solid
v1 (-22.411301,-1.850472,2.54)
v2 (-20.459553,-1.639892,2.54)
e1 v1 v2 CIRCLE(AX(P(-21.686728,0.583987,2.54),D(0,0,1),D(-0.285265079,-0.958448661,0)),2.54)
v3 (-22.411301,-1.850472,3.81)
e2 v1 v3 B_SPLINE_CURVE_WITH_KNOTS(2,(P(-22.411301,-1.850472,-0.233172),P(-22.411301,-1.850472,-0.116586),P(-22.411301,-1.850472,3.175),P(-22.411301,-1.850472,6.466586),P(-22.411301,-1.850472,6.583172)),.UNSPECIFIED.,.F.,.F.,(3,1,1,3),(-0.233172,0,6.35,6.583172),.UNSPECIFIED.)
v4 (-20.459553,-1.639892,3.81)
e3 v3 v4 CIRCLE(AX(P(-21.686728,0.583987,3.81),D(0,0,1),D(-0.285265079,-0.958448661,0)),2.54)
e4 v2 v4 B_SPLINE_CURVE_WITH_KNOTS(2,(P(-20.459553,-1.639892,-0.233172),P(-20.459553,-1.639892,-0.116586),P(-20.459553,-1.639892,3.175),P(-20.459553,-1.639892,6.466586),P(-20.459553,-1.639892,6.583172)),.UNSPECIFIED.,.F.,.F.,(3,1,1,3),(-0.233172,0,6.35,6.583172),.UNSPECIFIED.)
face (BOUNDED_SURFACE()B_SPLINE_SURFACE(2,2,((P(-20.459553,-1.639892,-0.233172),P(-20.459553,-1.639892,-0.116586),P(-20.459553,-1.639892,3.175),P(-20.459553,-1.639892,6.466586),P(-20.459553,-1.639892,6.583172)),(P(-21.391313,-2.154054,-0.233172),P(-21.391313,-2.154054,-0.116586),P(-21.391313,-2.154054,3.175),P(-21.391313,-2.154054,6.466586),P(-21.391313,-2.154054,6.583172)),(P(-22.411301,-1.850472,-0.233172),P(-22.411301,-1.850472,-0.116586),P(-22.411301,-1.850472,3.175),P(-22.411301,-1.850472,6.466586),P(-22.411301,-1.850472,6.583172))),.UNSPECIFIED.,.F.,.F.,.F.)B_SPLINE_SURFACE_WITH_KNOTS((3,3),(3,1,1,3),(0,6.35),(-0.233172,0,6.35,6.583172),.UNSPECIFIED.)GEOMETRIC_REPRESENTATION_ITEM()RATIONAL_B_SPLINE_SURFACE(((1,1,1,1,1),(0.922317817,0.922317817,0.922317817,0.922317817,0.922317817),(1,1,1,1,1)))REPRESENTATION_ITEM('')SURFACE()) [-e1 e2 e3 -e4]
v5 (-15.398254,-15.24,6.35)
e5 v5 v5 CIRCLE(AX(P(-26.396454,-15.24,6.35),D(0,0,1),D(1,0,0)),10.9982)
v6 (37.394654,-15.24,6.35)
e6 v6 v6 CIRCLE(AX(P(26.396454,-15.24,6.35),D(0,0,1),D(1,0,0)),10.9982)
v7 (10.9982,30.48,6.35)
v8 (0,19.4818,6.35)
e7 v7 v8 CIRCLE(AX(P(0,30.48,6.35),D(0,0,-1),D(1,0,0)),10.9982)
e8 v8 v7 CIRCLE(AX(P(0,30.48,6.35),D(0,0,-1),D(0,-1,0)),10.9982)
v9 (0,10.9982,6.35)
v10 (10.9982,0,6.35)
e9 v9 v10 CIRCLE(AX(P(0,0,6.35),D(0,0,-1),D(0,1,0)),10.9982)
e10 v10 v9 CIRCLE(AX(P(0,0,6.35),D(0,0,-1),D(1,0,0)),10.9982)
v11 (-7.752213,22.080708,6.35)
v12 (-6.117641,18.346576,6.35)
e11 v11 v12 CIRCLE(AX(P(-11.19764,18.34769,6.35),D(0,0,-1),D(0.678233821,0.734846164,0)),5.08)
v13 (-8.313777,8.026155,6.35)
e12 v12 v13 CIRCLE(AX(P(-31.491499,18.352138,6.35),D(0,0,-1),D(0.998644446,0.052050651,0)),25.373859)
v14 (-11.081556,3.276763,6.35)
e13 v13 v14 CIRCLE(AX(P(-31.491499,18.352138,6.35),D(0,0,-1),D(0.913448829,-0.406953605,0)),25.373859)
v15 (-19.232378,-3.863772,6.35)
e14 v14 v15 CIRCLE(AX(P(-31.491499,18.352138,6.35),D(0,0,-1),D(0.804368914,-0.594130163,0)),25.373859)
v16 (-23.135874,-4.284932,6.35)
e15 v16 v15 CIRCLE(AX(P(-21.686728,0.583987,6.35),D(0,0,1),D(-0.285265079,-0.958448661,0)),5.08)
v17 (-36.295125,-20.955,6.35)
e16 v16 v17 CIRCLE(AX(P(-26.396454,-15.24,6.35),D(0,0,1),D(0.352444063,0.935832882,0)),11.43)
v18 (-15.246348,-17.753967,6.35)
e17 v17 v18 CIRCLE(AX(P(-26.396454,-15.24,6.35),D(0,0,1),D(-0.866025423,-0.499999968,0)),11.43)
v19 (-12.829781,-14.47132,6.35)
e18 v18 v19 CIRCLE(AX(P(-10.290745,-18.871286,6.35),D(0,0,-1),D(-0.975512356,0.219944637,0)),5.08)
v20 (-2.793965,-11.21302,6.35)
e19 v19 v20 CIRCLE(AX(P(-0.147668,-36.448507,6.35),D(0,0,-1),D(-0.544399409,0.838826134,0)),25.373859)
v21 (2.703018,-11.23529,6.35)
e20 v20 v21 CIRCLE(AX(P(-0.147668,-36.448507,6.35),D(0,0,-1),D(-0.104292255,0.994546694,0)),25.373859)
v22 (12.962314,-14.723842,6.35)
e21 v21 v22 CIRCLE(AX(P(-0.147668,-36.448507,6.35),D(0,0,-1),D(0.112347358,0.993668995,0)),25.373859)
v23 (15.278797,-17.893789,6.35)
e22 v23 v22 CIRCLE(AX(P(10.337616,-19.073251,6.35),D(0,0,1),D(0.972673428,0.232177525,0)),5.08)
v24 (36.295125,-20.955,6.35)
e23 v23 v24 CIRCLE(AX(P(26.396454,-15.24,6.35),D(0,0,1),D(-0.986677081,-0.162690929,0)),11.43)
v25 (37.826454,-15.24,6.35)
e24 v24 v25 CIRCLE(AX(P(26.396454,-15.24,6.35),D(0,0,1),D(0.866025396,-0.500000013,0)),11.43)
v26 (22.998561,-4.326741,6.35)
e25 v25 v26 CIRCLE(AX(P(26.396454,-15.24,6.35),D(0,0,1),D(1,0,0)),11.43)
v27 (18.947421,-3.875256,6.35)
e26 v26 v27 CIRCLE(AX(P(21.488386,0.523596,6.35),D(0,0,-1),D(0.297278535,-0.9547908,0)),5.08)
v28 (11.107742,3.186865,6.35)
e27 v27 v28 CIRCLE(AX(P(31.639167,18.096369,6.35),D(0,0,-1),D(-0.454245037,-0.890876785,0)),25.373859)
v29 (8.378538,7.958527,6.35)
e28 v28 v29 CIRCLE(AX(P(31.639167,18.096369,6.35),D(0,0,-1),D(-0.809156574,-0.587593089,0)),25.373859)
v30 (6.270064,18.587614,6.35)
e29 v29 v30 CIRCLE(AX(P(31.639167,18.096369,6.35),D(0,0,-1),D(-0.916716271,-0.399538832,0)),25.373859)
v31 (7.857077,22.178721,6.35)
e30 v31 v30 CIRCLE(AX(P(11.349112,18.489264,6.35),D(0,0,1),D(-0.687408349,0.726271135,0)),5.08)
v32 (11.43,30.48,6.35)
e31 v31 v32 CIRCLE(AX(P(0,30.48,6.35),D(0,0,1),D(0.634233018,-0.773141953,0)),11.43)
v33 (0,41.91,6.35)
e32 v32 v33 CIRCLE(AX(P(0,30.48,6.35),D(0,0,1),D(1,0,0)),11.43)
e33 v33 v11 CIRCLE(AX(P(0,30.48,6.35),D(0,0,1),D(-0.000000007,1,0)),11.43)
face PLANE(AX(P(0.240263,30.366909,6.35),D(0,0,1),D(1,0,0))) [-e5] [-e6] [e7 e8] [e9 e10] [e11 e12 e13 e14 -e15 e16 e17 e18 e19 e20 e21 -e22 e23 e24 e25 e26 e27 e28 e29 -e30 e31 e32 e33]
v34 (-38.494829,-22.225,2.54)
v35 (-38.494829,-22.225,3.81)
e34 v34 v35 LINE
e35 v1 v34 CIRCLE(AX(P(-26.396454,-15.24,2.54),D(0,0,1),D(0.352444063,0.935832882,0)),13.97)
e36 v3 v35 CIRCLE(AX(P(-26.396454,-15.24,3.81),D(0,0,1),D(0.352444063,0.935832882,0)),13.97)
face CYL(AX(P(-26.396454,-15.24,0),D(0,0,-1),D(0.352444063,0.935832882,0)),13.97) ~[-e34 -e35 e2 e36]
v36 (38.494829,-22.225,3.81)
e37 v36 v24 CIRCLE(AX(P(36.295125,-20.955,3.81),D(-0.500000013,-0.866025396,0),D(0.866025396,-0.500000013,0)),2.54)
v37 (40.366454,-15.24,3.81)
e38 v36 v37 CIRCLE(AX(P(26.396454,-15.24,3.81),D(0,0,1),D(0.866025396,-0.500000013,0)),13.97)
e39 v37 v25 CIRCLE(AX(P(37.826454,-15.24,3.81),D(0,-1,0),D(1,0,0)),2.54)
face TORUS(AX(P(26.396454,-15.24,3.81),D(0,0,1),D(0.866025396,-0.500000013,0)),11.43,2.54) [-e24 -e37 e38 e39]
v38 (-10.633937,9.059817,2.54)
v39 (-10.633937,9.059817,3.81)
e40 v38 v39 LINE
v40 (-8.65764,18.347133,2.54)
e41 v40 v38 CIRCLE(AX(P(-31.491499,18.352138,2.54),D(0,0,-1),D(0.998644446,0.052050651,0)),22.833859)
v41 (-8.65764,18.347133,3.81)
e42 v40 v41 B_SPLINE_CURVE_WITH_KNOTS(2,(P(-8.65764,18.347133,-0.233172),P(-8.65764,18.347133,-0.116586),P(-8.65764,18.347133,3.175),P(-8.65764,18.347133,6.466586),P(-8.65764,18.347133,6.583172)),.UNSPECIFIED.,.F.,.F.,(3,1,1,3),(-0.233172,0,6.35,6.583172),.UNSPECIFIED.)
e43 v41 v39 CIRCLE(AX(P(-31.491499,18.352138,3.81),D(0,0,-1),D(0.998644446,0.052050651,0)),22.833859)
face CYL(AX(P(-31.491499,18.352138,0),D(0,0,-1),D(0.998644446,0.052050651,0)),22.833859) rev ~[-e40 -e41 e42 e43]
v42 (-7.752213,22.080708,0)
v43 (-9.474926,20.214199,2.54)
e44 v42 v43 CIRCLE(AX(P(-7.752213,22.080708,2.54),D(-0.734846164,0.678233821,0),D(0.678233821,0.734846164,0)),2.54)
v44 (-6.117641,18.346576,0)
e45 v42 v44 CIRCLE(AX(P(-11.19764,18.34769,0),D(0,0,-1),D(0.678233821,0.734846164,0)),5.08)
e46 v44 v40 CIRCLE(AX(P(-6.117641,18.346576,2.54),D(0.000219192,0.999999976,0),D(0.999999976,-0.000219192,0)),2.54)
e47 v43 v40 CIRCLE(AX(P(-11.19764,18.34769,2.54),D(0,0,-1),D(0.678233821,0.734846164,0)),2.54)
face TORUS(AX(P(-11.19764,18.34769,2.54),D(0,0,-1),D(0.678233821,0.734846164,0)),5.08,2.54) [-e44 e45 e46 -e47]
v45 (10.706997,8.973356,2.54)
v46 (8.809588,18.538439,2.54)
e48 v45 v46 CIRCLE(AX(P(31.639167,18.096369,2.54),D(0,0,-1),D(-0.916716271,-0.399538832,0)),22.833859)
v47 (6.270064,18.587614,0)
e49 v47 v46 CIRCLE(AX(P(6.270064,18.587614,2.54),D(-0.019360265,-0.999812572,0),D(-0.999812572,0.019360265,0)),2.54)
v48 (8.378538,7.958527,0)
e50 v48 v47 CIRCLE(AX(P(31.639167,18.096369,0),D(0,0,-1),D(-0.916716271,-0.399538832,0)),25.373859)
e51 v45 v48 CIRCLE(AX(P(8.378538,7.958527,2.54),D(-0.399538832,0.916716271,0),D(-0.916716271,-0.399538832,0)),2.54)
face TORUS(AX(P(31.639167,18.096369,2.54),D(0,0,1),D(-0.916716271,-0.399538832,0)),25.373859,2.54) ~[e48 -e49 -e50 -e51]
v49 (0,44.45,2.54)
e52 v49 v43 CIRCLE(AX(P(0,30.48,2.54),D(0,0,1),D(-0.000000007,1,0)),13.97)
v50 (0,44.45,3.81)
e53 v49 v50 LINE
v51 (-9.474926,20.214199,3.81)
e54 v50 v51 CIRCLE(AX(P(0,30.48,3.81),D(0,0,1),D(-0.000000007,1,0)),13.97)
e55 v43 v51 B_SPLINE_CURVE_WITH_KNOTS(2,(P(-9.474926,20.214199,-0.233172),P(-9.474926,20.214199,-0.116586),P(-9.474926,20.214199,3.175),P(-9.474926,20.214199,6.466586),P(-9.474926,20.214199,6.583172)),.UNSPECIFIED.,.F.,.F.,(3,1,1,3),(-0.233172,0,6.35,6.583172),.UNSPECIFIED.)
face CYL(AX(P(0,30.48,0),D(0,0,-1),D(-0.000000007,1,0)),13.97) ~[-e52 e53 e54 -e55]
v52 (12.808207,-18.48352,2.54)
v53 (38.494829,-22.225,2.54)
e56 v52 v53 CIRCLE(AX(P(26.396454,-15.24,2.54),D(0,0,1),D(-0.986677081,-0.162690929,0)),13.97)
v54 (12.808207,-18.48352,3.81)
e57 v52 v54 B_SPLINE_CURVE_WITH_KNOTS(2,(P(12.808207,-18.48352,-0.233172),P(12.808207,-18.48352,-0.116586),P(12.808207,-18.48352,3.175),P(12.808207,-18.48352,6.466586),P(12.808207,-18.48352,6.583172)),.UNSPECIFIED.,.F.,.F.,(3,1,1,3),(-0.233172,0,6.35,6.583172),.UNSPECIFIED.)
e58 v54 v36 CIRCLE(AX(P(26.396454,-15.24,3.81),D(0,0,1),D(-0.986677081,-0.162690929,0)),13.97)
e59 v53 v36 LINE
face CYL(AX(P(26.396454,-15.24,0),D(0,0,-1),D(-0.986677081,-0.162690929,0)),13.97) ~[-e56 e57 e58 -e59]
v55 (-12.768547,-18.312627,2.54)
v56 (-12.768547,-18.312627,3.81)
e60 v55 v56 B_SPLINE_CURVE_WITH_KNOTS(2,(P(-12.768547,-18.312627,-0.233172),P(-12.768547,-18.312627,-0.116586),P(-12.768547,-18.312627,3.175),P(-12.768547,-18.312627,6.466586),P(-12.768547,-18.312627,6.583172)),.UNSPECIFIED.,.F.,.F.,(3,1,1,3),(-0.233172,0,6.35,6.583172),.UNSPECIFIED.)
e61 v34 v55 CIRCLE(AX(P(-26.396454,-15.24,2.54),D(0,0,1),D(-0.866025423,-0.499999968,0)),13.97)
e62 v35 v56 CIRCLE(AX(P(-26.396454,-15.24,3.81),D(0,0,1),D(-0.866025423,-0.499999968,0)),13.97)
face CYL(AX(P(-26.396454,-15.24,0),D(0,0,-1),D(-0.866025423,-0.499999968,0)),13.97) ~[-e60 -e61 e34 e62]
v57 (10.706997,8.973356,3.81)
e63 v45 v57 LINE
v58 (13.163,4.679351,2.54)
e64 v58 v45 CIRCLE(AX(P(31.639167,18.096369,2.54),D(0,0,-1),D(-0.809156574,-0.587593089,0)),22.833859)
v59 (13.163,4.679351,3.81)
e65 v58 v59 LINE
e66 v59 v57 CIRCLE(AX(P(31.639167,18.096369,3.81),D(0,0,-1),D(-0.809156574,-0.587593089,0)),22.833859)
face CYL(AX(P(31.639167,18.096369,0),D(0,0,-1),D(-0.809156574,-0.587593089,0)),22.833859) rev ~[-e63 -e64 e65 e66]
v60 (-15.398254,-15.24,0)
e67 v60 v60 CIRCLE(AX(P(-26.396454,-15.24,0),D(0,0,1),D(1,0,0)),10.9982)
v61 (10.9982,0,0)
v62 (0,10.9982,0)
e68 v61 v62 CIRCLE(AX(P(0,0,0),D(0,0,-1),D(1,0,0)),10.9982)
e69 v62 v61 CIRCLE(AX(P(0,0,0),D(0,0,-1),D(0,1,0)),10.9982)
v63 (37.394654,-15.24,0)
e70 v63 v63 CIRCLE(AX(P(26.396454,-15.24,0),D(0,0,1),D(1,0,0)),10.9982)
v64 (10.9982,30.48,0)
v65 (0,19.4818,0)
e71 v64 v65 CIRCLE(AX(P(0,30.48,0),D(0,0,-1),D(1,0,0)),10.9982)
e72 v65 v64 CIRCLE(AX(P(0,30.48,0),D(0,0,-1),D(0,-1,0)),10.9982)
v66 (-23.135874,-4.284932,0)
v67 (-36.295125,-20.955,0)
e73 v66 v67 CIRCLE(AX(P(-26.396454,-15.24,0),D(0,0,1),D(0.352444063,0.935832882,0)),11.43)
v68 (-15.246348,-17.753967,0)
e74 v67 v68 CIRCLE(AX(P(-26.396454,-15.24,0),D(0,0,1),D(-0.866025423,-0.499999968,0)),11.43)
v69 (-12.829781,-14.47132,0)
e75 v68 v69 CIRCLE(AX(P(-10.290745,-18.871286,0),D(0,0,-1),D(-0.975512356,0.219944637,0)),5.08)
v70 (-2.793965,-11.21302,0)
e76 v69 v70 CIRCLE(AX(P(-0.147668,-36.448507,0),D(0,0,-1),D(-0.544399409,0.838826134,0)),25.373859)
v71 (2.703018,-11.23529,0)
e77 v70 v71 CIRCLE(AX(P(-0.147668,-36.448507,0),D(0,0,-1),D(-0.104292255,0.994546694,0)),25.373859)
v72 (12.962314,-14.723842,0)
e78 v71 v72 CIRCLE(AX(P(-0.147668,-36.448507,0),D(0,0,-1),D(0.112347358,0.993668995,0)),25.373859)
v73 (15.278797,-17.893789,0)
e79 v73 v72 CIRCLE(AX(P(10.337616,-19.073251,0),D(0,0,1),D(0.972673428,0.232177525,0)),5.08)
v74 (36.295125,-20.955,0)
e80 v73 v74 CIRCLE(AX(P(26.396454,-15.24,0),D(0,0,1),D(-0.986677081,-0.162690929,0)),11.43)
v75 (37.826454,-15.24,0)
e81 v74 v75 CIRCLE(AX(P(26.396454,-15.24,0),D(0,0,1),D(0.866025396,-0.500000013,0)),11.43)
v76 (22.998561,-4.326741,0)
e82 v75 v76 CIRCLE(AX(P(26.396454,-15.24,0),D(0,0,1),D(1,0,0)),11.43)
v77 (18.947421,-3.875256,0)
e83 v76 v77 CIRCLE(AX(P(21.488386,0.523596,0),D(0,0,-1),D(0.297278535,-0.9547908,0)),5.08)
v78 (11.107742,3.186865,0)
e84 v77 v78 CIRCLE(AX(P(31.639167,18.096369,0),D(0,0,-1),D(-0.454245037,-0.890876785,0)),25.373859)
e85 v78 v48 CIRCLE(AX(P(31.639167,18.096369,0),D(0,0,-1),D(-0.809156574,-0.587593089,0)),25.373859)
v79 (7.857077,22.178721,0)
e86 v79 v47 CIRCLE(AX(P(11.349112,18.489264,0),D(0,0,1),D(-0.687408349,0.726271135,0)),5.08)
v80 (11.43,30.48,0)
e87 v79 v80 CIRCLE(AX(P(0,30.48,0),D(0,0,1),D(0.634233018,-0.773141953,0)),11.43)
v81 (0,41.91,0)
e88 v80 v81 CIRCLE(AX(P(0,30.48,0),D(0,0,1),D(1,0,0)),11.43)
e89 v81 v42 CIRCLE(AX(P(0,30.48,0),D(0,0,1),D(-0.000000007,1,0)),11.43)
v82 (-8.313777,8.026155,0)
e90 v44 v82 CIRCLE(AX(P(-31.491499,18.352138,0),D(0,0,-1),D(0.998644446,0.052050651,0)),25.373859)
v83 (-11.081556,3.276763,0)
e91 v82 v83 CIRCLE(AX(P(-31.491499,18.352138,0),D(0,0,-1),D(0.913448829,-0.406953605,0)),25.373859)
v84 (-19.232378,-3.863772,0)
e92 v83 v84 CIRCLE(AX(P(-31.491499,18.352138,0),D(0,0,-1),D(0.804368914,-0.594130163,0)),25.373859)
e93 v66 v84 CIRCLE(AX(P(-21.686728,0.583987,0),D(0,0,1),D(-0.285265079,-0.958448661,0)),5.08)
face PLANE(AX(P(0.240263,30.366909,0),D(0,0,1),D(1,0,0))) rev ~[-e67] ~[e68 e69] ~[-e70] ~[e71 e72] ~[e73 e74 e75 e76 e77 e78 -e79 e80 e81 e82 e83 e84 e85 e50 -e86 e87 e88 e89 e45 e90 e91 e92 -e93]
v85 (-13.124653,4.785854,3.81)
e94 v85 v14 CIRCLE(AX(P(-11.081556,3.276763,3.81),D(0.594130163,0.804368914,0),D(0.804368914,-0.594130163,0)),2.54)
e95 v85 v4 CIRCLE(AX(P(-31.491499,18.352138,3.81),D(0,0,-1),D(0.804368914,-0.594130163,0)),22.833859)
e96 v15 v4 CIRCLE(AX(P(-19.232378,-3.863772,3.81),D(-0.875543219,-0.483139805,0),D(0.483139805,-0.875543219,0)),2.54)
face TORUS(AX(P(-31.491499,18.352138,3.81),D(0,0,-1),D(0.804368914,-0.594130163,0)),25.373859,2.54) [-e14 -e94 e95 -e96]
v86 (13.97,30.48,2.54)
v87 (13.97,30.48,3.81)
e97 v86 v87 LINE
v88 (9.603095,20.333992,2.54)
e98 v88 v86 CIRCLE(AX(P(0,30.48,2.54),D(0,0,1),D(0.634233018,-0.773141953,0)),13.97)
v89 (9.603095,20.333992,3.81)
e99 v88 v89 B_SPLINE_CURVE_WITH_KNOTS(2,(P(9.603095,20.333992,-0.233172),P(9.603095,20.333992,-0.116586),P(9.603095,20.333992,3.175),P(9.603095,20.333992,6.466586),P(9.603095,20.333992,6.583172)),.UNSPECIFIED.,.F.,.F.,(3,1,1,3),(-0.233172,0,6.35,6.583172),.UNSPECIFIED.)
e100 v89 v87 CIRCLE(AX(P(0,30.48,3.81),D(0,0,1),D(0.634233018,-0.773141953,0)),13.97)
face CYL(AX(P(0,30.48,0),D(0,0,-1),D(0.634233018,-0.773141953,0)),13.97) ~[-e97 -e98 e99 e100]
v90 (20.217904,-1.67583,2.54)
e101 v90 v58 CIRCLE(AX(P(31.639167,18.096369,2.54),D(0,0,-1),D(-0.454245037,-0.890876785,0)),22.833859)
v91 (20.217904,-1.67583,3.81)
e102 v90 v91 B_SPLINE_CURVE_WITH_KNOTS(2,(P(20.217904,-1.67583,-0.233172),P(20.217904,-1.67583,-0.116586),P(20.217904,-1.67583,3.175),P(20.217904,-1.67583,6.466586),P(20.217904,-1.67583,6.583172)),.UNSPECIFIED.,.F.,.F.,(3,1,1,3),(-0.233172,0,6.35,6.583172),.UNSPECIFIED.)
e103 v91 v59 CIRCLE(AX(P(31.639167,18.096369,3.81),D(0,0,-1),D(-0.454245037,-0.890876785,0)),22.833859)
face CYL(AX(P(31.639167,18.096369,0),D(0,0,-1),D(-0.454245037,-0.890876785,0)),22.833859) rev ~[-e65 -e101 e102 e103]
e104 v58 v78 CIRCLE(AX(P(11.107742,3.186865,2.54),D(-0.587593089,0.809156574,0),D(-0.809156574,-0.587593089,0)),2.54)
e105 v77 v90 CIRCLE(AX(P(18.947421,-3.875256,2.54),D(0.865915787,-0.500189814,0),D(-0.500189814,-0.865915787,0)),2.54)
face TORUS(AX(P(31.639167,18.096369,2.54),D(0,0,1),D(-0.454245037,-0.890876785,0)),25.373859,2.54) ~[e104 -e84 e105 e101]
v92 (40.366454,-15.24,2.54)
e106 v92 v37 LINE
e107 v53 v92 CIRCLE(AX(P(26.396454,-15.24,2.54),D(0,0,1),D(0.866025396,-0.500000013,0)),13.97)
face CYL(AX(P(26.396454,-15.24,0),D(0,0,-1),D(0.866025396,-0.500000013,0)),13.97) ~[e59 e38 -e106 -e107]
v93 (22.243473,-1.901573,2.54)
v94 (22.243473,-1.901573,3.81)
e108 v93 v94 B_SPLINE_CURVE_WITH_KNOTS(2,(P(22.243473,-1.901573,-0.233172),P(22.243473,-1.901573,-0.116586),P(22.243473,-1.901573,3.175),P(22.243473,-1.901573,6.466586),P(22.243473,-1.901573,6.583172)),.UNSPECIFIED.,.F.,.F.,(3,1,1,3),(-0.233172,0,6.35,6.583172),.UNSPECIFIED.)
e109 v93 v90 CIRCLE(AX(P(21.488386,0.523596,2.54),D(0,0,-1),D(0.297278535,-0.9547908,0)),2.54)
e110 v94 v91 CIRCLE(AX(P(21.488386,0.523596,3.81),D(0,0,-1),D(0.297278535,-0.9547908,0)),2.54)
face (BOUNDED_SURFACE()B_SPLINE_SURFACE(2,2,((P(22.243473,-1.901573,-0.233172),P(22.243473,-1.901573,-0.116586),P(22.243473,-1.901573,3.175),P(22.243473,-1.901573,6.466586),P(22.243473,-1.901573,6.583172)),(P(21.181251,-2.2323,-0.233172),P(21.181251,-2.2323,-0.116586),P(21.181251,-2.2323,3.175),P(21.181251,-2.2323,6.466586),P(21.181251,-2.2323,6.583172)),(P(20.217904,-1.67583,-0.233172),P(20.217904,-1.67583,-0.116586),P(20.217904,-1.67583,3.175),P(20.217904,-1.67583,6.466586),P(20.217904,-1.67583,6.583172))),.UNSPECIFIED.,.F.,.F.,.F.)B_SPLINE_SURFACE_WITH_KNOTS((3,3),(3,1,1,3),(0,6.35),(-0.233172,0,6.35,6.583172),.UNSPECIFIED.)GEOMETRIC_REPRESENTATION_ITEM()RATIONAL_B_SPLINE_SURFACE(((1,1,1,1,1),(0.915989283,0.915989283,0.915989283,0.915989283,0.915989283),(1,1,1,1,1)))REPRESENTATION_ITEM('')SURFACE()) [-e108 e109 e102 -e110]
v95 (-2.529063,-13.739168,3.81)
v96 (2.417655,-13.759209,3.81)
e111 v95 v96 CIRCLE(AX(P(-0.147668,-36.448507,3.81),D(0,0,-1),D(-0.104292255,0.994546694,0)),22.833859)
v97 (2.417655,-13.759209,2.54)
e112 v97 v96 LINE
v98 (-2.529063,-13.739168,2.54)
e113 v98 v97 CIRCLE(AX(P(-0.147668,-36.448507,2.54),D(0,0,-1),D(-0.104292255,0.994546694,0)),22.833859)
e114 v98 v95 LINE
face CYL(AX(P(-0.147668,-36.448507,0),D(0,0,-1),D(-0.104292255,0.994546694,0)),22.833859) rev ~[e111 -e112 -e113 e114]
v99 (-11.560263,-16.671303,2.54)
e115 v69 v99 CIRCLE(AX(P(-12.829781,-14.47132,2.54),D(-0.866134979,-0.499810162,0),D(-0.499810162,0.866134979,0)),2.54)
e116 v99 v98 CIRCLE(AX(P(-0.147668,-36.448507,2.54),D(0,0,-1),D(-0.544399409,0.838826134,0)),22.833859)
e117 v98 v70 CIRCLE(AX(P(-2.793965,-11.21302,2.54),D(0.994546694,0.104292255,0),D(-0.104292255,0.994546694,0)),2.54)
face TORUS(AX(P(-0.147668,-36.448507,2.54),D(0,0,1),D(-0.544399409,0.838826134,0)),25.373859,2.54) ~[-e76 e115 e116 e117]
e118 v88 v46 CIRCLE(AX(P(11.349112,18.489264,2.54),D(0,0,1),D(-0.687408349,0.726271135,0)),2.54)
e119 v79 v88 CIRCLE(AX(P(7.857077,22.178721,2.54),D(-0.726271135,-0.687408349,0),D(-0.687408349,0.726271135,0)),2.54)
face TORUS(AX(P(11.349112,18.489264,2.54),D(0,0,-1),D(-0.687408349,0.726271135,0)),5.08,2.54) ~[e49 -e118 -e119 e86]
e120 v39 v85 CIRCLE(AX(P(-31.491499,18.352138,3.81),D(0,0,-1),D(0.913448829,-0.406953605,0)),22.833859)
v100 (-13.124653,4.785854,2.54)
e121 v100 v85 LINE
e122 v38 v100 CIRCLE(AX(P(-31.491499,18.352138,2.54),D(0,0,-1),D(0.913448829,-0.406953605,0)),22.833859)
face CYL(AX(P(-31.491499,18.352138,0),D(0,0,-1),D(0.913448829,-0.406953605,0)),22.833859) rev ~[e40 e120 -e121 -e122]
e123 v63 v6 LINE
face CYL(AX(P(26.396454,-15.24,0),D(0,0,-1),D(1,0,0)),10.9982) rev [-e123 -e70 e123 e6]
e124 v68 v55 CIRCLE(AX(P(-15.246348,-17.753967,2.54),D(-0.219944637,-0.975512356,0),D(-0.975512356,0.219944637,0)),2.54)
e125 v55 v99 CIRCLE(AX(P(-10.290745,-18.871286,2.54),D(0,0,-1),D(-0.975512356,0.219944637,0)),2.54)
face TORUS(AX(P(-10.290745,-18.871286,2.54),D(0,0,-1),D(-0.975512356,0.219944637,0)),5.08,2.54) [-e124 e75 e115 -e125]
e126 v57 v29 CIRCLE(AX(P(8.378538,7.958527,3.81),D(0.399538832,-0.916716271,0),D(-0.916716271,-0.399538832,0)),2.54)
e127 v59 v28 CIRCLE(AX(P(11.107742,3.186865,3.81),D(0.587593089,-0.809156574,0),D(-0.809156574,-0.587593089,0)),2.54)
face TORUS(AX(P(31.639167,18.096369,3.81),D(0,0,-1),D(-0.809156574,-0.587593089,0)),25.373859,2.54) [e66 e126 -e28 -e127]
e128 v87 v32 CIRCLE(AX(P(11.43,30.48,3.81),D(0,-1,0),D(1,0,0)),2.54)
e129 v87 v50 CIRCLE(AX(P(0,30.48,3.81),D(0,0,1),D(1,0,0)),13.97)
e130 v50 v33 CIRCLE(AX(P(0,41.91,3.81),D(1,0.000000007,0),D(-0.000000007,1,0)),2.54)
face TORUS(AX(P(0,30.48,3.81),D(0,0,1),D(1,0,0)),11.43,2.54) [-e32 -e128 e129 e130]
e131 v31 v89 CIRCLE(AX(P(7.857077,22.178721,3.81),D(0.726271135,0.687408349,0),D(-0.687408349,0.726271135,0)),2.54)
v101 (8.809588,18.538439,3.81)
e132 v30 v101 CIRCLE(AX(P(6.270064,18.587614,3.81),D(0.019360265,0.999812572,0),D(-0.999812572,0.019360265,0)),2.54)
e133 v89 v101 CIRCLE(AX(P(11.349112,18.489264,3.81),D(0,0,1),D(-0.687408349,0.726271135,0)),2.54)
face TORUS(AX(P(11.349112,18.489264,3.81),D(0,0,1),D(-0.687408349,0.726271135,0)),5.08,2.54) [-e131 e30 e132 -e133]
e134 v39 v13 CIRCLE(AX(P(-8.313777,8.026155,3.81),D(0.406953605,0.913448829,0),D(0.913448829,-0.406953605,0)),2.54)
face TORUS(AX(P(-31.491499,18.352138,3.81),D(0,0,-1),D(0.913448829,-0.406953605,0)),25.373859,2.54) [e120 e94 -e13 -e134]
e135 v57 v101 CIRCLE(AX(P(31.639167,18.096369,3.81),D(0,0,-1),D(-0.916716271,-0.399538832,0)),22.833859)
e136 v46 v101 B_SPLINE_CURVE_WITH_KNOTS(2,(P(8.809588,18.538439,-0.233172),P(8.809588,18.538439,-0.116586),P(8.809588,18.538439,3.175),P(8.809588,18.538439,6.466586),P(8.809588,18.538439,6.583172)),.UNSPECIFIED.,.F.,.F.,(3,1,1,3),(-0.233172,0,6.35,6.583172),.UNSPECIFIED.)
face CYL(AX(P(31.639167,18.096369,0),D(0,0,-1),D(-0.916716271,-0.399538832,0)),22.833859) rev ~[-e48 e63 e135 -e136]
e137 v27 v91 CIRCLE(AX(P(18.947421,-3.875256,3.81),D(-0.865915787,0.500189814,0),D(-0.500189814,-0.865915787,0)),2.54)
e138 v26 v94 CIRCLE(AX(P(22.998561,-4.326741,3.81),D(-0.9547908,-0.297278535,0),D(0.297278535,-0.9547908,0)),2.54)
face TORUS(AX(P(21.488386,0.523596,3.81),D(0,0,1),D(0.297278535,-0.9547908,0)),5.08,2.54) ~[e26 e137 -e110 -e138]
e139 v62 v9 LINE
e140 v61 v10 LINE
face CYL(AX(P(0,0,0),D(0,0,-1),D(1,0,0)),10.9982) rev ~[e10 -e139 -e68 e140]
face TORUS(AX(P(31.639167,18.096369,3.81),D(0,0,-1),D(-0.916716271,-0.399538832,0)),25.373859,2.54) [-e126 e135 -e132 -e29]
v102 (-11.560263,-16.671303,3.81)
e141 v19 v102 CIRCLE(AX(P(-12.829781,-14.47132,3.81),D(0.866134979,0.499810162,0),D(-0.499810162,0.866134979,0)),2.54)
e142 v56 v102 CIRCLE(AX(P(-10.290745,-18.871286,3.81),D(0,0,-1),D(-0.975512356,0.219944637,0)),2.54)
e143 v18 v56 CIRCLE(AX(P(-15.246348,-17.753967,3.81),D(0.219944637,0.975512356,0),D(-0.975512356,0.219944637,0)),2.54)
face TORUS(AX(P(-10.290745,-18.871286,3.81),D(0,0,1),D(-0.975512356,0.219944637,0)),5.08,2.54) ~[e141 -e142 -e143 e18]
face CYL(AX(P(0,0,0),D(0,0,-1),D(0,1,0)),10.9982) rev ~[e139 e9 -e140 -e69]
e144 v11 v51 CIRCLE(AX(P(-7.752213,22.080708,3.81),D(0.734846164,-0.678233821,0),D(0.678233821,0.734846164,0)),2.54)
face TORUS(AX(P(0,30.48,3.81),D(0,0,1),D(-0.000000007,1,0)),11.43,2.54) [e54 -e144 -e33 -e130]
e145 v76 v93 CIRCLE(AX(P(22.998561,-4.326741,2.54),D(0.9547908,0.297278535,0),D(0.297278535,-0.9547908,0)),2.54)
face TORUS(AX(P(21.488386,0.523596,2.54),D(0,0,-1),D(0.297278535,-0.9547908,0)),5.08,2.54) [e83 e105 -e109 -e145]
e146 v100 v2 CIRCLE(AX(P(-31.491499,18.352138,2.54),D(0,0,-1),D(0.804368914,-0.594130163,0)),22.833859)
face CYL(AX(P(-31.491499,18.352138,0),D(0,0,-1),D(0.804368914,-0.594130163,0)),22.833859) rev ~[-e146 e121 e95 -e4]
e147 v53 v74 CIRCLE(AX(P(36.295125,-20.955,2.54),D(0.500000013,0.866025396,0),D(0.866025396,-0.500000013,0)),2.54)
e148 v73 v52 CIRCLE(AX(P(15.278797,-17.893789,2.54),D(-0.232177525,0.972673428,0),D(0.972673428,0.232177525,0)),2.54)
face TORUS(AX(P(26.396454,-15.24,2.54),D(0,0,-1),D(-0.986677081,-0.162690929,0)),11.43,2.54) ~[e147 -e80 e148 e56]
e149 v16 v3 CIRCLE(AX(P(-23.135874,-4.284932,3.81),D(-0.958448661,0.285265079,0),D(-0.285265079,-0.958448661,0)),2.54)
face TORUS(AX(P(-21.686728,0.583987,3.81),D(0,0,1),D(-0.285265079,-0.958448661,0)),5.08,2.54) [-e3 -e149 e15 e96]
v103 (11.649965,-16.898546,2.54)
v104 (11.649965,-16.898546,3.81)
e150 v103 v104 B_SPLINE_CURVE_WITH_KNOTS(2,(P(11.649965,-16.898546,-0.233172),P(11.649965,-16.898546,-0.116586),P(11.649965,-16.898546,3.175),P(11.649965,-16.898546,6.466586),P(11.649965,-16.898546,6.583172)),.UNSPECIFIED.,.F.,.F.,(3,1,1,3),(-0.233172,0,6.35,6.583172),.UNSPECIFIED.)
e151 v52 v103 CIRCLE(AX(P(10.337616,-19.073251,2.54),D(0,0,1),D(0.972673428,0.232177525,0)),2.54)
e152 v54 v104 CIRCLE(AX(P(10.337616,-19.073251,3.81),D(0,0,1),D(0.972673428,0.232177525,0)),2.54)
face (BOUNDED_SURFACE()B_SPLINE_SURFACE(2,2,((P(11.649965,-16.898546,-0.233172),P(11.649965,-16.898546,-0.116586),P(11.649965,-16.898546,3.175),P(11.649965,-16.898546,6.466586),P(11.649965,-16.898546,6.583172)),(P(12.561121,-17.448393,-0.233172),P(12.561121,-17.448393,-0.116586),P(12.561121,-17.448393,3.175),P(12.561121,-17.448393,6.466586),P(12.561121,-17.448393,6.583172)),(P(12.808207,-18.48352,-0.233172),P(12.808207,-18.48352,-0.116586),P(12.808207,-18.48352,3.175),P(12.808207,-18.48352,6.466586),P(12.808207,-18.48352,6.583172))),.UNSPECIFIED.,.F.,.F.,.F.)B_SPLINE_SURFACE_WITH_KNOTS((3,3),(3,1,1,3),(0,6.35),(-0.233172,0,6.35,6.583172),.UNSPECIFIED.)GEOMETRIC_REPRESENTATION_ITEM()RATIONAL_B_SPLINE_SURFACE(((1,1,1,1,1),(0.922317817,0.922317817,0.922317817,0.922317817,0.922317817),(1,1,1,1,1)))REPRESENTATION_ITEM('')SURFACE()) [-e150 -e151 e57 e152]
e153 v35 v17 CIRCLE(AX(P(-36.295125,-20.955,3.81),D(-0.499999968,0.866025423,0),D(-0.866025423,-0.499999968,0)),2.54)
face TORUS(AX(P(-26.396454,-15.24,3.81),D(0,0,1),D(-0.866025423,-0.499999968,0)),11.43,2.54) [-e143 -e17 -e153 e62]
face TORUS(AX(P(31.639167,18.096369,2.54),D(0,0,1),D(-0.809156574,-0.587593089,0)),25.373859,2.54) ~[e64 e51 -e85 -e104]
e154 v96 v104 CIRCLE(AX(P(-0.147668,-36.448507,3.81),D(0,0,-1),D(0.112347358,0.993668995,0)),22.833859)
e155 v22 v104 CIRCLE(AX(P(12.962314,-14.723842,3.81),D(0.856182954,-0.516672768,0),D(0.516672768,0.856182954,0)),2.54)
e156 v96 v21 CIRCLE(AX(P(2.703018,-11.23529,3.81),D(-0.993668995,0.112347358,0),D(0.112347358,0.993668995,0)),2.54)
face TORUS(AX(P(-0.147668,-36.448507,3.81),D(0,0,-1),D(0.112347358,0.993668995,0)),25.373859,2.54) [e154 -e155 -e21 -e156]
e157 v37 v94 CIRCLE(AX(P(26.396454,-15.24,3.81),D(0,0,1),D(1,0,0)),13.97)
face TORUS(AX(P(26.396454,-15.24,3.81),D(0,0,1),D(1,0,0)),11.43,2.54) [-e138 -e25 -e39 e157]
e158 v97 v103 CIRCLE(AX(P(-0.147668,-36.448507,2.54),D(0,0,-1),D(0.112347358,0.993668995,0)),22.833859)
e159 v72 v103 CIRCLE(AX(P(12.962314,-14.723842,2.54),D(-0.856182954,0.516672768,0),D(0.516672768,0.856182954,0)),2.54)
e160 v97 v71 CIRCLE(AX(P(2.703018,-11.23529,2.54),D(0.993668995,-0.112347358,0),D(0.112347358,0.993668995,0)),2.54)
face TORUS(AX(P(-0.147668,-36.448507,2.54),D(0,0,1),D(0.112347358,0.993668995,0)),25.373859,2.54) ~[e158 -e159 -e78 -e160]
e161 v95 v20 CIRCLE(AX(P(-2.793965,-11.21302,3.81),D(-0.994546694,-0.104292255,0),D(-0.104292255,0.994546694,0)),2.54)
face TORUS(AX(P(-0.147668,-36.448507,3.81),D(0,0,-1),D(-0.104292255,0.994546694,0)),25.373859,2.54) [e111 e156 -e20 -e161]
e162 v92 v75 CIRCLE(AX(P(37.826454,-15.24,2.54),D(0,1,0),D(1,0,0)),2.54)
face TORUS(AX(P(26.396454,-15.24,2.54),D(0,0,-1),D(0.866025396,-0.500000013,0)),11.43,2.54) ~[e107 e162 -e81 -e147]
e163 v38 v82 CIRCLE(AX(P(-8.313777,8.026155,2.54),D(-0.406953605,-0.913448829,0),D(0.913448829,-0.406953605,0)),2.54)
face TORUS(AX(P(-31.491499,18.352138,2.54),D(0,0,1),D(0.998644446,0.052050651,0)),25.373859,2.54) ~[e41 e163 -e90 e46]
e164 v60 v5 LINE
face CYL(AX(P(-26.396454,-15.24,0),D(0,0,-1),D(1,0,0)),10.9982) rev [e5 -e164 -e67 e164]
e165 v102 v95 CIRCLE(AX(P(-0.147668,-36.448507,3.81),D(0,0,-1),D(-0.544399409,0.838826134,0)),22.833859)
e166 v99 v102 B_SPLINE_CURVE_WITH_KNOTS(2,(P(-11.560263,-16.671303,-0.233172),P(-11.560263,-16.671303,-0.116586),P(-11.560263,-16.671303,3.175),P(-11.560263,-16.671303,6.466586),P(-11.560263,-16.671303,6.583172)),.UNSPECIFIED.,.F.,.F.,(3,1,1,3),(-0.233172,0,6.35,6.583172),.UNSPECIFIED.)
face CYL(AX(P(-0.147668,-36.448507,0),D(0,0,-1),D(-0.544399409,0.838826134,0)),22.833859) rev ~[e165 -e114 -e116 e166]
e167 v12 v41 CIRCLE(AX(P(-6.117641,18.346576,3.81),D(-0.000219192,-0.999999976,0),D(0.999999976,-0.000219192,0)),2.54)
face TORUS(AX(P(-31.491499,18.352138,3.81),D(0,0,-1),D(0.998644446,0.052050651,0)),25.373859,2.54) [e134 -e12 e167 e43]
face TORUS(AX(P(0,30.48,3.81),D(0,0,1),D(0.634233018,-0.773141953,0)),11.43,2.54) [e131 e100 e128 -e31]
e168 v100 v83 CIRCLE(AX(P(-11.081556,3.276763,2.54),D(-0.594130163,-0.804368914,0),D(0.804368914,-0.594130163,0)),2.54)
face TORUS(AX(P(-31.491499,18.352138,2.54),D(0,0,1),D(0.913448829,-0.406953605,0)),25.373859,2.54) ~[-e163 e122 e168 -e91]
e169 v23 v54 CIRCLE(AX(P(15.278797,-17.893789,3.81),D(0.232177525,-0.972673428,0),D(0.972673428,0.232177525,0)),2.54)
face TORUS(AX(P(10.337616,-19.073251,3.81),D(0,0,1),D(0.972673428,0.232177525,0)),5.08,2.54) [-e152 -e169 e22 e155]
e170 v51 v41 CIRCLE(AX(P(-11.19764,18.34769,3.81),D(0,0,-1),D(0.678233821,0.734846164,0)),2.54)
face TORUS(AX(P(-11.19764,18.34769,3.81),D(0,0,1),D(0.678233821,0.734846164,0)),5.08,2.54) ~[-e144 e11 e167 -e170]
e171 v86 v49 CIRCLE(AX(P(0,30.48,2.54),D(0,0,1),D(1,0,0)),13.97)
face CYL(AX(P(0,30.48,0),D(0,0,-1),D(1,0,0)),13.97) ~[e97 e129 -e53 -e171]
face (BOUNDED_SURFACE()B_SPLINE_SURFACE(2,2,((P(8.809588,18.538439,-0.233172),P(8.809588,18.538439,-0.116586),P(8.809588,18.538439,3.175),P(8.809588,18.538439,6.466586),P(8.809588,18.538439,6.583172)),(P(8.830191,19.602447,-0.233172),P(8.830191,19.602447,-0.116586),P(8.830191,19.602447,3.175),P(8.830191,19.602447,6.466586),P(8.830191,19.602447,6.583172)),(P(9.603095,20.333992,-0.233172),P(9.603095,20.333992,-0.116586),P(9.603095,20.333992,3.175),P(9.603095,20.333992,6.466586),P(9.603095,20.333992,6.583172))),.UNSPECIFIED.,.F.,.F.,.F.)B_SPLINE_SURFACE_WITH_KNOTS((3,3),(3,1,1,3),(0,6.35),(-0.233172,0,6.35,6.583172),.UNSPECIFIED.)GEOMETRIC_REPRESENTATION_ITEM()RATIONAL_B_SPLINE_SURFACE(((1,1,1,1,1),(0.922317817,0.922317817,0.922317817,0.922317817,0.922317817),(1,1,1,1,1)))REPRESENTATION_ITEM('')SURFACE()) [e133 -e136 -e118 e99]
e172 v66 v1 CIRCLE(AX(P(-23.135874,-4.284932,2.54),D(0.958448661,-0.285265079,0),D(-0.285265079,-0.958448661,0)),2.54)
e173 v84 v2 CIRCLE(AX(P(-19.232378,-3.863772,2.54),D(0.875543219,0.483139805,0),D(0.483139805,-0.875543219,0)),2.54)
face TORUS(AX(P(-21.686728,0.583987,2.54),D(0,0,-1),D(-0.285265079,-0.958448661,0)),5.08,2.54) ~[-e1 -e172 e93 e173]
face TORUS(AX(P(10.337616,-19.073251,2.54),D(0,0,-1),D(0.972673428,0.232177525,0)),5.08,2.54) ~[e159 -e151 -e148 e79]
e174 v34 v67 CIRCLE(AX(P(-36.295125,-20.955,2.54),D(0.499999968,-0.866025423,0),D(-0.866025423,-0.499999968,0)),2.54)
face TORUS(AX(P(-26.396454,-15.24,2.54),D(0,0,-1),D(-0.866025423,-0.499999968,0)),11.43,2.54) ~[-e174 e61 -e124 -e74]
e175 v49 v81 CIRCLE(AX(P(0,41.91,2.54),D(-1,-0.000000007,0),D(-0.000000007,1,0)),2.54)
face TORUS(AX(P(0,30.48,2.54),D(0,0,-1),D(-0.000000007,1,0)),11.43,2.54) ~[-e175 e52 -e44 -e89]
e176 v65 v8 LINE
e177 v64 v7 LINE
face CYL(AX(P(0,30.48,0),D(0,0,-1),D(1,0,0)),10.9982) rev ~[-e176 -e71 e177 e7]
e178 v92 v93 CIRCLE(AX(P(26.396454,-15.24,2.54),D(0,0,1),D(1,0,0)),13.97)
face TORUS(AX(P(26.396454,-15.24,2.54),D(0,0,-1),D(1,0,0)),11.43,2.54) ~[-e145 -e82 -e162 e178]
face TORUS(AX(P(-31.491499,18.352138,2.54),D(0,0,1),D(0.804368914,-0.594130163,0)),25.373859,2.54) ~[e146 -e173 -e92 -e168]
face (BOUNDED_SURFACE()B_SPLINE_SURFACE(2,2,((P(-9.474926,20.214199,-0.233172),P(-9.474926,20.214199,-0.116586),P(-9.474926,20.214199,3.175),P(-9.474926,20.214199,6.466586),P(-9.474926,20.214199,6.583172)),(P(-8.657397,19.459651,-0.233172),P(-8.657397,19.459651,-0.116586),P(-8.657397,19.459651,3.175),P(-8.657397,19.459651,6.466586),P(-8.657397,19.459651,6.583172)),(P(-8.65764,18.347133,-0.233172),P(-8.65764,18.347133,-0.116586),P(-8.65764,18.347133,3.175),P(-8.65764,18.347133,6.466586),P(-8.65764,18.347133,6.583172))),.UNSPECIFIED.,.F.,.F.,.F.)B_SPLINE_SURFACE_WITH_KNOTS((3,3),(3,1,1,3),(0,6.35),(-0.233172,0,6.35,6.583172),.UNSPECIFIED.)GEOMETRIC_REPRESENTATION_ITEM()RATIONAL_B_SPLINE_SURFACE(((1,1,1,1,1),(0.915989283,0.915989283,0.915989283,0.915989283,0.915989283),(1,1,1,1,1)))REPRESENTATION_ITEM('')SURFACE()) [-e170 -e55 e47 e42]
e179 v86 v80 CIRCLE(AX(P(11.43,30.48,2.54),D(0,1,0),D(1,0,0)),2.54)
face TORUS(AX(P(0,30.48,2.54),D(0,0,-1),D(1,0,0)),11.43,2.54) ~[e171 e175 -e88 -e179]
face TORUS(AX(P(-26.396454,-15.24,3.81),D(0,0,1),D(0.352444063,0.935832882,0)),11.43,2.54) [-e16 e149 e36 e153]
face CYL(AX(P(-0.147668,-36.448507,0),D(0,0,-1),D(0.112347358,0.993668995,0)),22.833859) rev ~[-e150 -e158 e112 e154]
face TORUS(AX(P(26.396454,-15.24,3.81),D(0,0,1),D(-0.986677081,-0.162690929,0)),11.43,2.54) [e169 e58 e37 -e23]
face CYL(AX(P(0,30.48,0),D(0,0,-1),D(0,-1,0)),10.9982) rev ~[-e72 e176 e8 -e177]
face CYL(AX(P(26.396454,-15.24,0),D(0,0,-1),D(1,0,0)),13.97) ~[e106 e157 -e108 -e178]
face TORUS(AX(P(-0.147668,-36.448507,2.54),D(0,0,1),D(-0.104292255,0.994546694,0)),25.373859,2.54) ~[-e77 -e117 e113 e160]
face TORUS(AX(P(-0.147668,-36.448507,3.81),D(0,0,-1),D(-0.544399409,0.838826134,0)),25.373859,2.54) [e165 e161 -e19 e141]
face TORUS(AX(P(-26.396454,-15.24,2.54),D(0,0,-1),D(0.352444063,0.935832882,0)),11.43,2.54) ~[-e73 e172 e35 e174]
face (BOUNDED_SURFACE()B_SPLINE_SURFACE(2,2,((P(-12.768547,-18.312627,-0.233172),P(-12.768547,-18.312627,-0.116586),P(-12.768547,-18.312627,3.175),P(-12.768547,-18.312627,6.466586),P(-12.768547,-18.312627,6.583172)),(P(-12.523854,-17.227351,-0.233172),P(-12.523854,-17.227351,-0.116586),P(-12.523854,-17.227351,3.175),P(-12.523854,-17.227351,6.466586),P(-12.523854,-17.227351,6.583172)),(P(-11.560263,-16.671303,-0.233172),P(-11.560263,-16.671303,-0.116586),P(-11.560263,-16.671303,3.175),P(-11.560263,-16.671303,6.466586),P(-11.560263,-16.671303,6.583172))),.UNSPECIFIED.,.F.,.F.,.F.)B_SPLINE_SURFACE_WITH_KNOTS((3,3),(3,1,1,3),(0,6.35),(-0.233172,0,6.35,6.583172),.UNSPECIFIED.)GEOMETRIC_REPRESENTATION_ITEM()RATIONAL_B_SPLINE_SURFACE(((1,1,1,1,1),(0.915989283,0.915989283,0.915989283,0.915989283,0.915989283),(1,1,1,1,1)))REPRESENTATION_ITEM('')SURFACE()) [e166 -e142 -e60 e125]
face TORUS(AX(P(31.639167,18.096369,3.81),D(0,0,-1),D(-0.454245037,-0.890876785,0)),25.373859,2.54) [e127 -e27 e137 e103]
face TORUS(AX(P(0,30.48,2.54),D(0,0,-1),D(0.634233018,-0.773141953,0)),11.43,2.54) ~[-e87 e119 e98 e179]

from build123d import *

# Parameters (mm, degrees)
F0_R     = 10.9982
F1_DEPTH = 6.35
F2_R     = 2.54


with BuildPart() as f1:
    # F0 (on Top) → F1 (new body)
    with BuildSketch(Plane.XY):
        with BuildLine():
            ThreePointArc((13.97, 30.48), (9.8782816978, 40.3582817686), (-1.001e-07, 44.45))
            ThreePointArc((-1.001e-07, 44.45), (-13.1905941087, 35.0809919648), (-8.6885924199, 19.5406553322))
            ThreePointArc((-8.6885924199, 19.5406553322), (-4.6009920121, 17.2894059078), (0, 16.51))
            ThreePointArc((0, 16.51), (4.7049878122, 17.3261416426), (8.8602352549, 19.6792069167))
            ThreePointArc((8.8602352549, 19.6792069167), (12.6281112307, 24.5057463441), (13.97, 30.48))
        make_face()
        with BuildLine():
            ThreePointArc((10.9982, 30.48), (7.7769018008, 22.7030981992), (0, 19.4818))
            ThreePointArc((0, 19.4818), (-7.7769018008, 38.2569018008), (10.9982, 30.48))
        make_face(mode=Mode.SUBTRACT)
        with BuildLine():
            ThreePointArc((12.6125754888, -17.5127922726), (23.8941639919, -28.984069382), (38.4948290898, -22.2250001877))
            ThreePointArc((38.4948290898, -22.2250001877), (39.8904380726, -18.8557021648), (40.3664543073, -15.24))
            ThreePointArc((40.3664543073, -15.24), (34.2546482856, -3.6896888614), (21.2670001342, -2.2457859074))
            ThreePointArc((21.2670001342, -2.2457859074), (14.2433101852, -8.3507338601), (12.6125754888, -17.5127922726))
        make_face()
        with Locations((26.3964543073, -15.24)):
            Circle(F0_R, mode=Mode.SUBTRACT)
        with BuildLine():
            ThreePointArc((-21.4728107437, -2.1664146441), (-37.0480222865, -6.2009182111), (-38.4948294602, -22.2249995463))
            ThreePointArc((-38.4948294602, -22.2249995463), (-23.7857334836, -28.9638856298), (-12.5784077143, -17.2948694248))
            ThreePointArc((-12.5784077143, -17.2948694248), (-12.4644944505, -16.2702400437), (-12.4264543073, -15.24))
            ThreePointArc((-12.4264543073, -15.24), (-14.9085432574, -7.2908617003), (-21.4728107437, -2.1664146441))
        make_face()
        with Locations((-26.3964543073, -15.24)):
            Circle(F0_R, mode=Mode.SUBTRACT)
        with BuildLine():
            ThreePointArc((0, 13.97), (-5.856417794, 12.6831885038), (-10.6339371279, 9.0598168392))
            ThreePointArc((-10.6339371279, 9.0598168392), (-11.7632136635, 6.8551872307), (-13.1246525512, 4.7858536762))
            ThreePointArc((-13.1246525512, 4.7858536762), (-12.126574558, -6.9359274426), (-2.5290629724, -13.7391681146))
            ThreePointArc((-2.5290629724, -13.7391681146), (-0.0551594577, -13.6148354781), (2.4176554132, -13.7592093633))
            ThreePointArc((2.4176554132, -13.7592093633), (10.6989613076, -8.9829353186), (13.97, 0))
            ThreePointArc((13.97, 0), (13.7667717966, 2.3742144594), (13.1630001003, 4.6793512754))
            ThreePointArc((13.1630001003, 4.6793512754), (11.8183731212, 6.7596482474), (10.706997138, 8.9733556871))
            ThreePointArc((10.706997138, 8.9733556871), (5.9077542709, 12.6593577829), (0, 13.97))
        make_face()
        with BuildLine():
            ThreePointArc((10.9982, 0), (-7.7769018008, -7.7769018008), (0, 10.9982))
            ThreePointArc((0, 10.9982), (7.7769018008, 7.7769018008), (10.9982, 0))
        make_face(mode=Mode.SUBTRACT)
        with BuildLine():
            ThreePointArc((0, 16.51), (-4.6009920121, 17.2894059078), (-8.6885924199, 19.5406553322))
            ThreePointArc((-8.6885924199, 19.5406553322), (-9.0410842982, 14.185124608), (-10.6339371279, 9.0598168392))
            ThreePointArc((-10.6339371279, 9.0598168392), (-5.856417794, 12.6831885038), (0, 13.97))
            Line((0, 13.97), (0, 16.51))
        make_face()
        with BuildLine():
            ThreePointArc((10.706997138, 8.9733556871), (9.1376356479, 14.2148495037), (8.8602352549, 19.6792069167))
            ThreePointArc((8.8602352549, 19.6792069167), (4.7049878122, 17.3261416426), (0, 16.51))
            Line((0, 16.51), (0, 13.97))
            ThreePointArc((0, 13.97), (5.9077542709, 12.6593577829), (10.706997138, 8.9733556871))
        make_face()
        with BuildLine():
            ThreePointArc((2.4176554132, -13.7592093633), (7.7416029572, -15.0208493535), (12.6125754888, -17.5127922726))
            ThreePointArc((12.6125754888, -17.5127922726), (14.2433101852, -8.3507338601), (21.2670001342, -2.2457859074))
            ThreePointArc((21.2670001342, -2.2457859074), (16.8052204155, 0.737246376), (13.1630001003, 4.6793512754))
            ThreePointArc((13.1630001003, 4.6793512754), (13.7667717966, 2.3742144594), (13.97, 0))
            ThreePointArc((13.97, 0), (10.6989613076, -8.9829353186), (2.4176554132, -13.7592093633))
        make_face()
        with BuildLine():
            ThreePointArc((-13.1246525512, 4.7858536762), (-16.8792386051, 0.8059998498), (-21.4728107437, -2.1664146441))
            ThreePointArc((-21.4728107437, -2.1664146441), (-14.9085432574, -7.2908617003), (-12.4264543073, -15.24))
            ThreePointArc((-12.4264543073, -15.24), (-12.4644944505, -16.2702400437), (-12.5784077143, -17.2948694248))
            ThreePointArc((-12.5784077143, -17.2948694248), (-7.7641361173, -14.922370984), (-2.5290629724, -13.7391681146))
            ThreePointArc((-2.5290629724, -13.7391681146), (-12.126574558, -6.9359274426), (-13.1246525512, 4.7858536762))
        make_face()
    extrude(amount=F1_DEPTH)

    # F2
    f2_edges = [f1.edges().sort_by_distance(p)[0] for p in [
        (11.766443, 6.850928, 6.35),
        (-11.816299, 6.764575, 6.35),
        (0.049856, -13.615502, 6.35),
        (-11.816299, 6.764575, 0),
        (11.766443, 6.850928, 0),
        (0.049856, -13.615502, 0),
        (8.860235, 19.679207, 3.175),
        (-8.688592, 19.540655, 3.175),
        (-0.110293, 44.449565, 0),
        (-0.110293, 44.449565, 6.35),
        (12.612575, -17.512792, 3.175),
        (21.267, -2.245786, 3.175),
        (38.549598, -22.129266, 0),
        (38.549598, -22.129266, 6.35),
        (-21.472811, -2.166415, 3.175),
        (-12.578408, -17.294869, 3.175),
        (-38.439306, -22.320298, 0),
        (-38.439306, -22.320298, 6.35),
    ]]
    fillet(f2_edges, radius=F2_R)


solid = f1.part
